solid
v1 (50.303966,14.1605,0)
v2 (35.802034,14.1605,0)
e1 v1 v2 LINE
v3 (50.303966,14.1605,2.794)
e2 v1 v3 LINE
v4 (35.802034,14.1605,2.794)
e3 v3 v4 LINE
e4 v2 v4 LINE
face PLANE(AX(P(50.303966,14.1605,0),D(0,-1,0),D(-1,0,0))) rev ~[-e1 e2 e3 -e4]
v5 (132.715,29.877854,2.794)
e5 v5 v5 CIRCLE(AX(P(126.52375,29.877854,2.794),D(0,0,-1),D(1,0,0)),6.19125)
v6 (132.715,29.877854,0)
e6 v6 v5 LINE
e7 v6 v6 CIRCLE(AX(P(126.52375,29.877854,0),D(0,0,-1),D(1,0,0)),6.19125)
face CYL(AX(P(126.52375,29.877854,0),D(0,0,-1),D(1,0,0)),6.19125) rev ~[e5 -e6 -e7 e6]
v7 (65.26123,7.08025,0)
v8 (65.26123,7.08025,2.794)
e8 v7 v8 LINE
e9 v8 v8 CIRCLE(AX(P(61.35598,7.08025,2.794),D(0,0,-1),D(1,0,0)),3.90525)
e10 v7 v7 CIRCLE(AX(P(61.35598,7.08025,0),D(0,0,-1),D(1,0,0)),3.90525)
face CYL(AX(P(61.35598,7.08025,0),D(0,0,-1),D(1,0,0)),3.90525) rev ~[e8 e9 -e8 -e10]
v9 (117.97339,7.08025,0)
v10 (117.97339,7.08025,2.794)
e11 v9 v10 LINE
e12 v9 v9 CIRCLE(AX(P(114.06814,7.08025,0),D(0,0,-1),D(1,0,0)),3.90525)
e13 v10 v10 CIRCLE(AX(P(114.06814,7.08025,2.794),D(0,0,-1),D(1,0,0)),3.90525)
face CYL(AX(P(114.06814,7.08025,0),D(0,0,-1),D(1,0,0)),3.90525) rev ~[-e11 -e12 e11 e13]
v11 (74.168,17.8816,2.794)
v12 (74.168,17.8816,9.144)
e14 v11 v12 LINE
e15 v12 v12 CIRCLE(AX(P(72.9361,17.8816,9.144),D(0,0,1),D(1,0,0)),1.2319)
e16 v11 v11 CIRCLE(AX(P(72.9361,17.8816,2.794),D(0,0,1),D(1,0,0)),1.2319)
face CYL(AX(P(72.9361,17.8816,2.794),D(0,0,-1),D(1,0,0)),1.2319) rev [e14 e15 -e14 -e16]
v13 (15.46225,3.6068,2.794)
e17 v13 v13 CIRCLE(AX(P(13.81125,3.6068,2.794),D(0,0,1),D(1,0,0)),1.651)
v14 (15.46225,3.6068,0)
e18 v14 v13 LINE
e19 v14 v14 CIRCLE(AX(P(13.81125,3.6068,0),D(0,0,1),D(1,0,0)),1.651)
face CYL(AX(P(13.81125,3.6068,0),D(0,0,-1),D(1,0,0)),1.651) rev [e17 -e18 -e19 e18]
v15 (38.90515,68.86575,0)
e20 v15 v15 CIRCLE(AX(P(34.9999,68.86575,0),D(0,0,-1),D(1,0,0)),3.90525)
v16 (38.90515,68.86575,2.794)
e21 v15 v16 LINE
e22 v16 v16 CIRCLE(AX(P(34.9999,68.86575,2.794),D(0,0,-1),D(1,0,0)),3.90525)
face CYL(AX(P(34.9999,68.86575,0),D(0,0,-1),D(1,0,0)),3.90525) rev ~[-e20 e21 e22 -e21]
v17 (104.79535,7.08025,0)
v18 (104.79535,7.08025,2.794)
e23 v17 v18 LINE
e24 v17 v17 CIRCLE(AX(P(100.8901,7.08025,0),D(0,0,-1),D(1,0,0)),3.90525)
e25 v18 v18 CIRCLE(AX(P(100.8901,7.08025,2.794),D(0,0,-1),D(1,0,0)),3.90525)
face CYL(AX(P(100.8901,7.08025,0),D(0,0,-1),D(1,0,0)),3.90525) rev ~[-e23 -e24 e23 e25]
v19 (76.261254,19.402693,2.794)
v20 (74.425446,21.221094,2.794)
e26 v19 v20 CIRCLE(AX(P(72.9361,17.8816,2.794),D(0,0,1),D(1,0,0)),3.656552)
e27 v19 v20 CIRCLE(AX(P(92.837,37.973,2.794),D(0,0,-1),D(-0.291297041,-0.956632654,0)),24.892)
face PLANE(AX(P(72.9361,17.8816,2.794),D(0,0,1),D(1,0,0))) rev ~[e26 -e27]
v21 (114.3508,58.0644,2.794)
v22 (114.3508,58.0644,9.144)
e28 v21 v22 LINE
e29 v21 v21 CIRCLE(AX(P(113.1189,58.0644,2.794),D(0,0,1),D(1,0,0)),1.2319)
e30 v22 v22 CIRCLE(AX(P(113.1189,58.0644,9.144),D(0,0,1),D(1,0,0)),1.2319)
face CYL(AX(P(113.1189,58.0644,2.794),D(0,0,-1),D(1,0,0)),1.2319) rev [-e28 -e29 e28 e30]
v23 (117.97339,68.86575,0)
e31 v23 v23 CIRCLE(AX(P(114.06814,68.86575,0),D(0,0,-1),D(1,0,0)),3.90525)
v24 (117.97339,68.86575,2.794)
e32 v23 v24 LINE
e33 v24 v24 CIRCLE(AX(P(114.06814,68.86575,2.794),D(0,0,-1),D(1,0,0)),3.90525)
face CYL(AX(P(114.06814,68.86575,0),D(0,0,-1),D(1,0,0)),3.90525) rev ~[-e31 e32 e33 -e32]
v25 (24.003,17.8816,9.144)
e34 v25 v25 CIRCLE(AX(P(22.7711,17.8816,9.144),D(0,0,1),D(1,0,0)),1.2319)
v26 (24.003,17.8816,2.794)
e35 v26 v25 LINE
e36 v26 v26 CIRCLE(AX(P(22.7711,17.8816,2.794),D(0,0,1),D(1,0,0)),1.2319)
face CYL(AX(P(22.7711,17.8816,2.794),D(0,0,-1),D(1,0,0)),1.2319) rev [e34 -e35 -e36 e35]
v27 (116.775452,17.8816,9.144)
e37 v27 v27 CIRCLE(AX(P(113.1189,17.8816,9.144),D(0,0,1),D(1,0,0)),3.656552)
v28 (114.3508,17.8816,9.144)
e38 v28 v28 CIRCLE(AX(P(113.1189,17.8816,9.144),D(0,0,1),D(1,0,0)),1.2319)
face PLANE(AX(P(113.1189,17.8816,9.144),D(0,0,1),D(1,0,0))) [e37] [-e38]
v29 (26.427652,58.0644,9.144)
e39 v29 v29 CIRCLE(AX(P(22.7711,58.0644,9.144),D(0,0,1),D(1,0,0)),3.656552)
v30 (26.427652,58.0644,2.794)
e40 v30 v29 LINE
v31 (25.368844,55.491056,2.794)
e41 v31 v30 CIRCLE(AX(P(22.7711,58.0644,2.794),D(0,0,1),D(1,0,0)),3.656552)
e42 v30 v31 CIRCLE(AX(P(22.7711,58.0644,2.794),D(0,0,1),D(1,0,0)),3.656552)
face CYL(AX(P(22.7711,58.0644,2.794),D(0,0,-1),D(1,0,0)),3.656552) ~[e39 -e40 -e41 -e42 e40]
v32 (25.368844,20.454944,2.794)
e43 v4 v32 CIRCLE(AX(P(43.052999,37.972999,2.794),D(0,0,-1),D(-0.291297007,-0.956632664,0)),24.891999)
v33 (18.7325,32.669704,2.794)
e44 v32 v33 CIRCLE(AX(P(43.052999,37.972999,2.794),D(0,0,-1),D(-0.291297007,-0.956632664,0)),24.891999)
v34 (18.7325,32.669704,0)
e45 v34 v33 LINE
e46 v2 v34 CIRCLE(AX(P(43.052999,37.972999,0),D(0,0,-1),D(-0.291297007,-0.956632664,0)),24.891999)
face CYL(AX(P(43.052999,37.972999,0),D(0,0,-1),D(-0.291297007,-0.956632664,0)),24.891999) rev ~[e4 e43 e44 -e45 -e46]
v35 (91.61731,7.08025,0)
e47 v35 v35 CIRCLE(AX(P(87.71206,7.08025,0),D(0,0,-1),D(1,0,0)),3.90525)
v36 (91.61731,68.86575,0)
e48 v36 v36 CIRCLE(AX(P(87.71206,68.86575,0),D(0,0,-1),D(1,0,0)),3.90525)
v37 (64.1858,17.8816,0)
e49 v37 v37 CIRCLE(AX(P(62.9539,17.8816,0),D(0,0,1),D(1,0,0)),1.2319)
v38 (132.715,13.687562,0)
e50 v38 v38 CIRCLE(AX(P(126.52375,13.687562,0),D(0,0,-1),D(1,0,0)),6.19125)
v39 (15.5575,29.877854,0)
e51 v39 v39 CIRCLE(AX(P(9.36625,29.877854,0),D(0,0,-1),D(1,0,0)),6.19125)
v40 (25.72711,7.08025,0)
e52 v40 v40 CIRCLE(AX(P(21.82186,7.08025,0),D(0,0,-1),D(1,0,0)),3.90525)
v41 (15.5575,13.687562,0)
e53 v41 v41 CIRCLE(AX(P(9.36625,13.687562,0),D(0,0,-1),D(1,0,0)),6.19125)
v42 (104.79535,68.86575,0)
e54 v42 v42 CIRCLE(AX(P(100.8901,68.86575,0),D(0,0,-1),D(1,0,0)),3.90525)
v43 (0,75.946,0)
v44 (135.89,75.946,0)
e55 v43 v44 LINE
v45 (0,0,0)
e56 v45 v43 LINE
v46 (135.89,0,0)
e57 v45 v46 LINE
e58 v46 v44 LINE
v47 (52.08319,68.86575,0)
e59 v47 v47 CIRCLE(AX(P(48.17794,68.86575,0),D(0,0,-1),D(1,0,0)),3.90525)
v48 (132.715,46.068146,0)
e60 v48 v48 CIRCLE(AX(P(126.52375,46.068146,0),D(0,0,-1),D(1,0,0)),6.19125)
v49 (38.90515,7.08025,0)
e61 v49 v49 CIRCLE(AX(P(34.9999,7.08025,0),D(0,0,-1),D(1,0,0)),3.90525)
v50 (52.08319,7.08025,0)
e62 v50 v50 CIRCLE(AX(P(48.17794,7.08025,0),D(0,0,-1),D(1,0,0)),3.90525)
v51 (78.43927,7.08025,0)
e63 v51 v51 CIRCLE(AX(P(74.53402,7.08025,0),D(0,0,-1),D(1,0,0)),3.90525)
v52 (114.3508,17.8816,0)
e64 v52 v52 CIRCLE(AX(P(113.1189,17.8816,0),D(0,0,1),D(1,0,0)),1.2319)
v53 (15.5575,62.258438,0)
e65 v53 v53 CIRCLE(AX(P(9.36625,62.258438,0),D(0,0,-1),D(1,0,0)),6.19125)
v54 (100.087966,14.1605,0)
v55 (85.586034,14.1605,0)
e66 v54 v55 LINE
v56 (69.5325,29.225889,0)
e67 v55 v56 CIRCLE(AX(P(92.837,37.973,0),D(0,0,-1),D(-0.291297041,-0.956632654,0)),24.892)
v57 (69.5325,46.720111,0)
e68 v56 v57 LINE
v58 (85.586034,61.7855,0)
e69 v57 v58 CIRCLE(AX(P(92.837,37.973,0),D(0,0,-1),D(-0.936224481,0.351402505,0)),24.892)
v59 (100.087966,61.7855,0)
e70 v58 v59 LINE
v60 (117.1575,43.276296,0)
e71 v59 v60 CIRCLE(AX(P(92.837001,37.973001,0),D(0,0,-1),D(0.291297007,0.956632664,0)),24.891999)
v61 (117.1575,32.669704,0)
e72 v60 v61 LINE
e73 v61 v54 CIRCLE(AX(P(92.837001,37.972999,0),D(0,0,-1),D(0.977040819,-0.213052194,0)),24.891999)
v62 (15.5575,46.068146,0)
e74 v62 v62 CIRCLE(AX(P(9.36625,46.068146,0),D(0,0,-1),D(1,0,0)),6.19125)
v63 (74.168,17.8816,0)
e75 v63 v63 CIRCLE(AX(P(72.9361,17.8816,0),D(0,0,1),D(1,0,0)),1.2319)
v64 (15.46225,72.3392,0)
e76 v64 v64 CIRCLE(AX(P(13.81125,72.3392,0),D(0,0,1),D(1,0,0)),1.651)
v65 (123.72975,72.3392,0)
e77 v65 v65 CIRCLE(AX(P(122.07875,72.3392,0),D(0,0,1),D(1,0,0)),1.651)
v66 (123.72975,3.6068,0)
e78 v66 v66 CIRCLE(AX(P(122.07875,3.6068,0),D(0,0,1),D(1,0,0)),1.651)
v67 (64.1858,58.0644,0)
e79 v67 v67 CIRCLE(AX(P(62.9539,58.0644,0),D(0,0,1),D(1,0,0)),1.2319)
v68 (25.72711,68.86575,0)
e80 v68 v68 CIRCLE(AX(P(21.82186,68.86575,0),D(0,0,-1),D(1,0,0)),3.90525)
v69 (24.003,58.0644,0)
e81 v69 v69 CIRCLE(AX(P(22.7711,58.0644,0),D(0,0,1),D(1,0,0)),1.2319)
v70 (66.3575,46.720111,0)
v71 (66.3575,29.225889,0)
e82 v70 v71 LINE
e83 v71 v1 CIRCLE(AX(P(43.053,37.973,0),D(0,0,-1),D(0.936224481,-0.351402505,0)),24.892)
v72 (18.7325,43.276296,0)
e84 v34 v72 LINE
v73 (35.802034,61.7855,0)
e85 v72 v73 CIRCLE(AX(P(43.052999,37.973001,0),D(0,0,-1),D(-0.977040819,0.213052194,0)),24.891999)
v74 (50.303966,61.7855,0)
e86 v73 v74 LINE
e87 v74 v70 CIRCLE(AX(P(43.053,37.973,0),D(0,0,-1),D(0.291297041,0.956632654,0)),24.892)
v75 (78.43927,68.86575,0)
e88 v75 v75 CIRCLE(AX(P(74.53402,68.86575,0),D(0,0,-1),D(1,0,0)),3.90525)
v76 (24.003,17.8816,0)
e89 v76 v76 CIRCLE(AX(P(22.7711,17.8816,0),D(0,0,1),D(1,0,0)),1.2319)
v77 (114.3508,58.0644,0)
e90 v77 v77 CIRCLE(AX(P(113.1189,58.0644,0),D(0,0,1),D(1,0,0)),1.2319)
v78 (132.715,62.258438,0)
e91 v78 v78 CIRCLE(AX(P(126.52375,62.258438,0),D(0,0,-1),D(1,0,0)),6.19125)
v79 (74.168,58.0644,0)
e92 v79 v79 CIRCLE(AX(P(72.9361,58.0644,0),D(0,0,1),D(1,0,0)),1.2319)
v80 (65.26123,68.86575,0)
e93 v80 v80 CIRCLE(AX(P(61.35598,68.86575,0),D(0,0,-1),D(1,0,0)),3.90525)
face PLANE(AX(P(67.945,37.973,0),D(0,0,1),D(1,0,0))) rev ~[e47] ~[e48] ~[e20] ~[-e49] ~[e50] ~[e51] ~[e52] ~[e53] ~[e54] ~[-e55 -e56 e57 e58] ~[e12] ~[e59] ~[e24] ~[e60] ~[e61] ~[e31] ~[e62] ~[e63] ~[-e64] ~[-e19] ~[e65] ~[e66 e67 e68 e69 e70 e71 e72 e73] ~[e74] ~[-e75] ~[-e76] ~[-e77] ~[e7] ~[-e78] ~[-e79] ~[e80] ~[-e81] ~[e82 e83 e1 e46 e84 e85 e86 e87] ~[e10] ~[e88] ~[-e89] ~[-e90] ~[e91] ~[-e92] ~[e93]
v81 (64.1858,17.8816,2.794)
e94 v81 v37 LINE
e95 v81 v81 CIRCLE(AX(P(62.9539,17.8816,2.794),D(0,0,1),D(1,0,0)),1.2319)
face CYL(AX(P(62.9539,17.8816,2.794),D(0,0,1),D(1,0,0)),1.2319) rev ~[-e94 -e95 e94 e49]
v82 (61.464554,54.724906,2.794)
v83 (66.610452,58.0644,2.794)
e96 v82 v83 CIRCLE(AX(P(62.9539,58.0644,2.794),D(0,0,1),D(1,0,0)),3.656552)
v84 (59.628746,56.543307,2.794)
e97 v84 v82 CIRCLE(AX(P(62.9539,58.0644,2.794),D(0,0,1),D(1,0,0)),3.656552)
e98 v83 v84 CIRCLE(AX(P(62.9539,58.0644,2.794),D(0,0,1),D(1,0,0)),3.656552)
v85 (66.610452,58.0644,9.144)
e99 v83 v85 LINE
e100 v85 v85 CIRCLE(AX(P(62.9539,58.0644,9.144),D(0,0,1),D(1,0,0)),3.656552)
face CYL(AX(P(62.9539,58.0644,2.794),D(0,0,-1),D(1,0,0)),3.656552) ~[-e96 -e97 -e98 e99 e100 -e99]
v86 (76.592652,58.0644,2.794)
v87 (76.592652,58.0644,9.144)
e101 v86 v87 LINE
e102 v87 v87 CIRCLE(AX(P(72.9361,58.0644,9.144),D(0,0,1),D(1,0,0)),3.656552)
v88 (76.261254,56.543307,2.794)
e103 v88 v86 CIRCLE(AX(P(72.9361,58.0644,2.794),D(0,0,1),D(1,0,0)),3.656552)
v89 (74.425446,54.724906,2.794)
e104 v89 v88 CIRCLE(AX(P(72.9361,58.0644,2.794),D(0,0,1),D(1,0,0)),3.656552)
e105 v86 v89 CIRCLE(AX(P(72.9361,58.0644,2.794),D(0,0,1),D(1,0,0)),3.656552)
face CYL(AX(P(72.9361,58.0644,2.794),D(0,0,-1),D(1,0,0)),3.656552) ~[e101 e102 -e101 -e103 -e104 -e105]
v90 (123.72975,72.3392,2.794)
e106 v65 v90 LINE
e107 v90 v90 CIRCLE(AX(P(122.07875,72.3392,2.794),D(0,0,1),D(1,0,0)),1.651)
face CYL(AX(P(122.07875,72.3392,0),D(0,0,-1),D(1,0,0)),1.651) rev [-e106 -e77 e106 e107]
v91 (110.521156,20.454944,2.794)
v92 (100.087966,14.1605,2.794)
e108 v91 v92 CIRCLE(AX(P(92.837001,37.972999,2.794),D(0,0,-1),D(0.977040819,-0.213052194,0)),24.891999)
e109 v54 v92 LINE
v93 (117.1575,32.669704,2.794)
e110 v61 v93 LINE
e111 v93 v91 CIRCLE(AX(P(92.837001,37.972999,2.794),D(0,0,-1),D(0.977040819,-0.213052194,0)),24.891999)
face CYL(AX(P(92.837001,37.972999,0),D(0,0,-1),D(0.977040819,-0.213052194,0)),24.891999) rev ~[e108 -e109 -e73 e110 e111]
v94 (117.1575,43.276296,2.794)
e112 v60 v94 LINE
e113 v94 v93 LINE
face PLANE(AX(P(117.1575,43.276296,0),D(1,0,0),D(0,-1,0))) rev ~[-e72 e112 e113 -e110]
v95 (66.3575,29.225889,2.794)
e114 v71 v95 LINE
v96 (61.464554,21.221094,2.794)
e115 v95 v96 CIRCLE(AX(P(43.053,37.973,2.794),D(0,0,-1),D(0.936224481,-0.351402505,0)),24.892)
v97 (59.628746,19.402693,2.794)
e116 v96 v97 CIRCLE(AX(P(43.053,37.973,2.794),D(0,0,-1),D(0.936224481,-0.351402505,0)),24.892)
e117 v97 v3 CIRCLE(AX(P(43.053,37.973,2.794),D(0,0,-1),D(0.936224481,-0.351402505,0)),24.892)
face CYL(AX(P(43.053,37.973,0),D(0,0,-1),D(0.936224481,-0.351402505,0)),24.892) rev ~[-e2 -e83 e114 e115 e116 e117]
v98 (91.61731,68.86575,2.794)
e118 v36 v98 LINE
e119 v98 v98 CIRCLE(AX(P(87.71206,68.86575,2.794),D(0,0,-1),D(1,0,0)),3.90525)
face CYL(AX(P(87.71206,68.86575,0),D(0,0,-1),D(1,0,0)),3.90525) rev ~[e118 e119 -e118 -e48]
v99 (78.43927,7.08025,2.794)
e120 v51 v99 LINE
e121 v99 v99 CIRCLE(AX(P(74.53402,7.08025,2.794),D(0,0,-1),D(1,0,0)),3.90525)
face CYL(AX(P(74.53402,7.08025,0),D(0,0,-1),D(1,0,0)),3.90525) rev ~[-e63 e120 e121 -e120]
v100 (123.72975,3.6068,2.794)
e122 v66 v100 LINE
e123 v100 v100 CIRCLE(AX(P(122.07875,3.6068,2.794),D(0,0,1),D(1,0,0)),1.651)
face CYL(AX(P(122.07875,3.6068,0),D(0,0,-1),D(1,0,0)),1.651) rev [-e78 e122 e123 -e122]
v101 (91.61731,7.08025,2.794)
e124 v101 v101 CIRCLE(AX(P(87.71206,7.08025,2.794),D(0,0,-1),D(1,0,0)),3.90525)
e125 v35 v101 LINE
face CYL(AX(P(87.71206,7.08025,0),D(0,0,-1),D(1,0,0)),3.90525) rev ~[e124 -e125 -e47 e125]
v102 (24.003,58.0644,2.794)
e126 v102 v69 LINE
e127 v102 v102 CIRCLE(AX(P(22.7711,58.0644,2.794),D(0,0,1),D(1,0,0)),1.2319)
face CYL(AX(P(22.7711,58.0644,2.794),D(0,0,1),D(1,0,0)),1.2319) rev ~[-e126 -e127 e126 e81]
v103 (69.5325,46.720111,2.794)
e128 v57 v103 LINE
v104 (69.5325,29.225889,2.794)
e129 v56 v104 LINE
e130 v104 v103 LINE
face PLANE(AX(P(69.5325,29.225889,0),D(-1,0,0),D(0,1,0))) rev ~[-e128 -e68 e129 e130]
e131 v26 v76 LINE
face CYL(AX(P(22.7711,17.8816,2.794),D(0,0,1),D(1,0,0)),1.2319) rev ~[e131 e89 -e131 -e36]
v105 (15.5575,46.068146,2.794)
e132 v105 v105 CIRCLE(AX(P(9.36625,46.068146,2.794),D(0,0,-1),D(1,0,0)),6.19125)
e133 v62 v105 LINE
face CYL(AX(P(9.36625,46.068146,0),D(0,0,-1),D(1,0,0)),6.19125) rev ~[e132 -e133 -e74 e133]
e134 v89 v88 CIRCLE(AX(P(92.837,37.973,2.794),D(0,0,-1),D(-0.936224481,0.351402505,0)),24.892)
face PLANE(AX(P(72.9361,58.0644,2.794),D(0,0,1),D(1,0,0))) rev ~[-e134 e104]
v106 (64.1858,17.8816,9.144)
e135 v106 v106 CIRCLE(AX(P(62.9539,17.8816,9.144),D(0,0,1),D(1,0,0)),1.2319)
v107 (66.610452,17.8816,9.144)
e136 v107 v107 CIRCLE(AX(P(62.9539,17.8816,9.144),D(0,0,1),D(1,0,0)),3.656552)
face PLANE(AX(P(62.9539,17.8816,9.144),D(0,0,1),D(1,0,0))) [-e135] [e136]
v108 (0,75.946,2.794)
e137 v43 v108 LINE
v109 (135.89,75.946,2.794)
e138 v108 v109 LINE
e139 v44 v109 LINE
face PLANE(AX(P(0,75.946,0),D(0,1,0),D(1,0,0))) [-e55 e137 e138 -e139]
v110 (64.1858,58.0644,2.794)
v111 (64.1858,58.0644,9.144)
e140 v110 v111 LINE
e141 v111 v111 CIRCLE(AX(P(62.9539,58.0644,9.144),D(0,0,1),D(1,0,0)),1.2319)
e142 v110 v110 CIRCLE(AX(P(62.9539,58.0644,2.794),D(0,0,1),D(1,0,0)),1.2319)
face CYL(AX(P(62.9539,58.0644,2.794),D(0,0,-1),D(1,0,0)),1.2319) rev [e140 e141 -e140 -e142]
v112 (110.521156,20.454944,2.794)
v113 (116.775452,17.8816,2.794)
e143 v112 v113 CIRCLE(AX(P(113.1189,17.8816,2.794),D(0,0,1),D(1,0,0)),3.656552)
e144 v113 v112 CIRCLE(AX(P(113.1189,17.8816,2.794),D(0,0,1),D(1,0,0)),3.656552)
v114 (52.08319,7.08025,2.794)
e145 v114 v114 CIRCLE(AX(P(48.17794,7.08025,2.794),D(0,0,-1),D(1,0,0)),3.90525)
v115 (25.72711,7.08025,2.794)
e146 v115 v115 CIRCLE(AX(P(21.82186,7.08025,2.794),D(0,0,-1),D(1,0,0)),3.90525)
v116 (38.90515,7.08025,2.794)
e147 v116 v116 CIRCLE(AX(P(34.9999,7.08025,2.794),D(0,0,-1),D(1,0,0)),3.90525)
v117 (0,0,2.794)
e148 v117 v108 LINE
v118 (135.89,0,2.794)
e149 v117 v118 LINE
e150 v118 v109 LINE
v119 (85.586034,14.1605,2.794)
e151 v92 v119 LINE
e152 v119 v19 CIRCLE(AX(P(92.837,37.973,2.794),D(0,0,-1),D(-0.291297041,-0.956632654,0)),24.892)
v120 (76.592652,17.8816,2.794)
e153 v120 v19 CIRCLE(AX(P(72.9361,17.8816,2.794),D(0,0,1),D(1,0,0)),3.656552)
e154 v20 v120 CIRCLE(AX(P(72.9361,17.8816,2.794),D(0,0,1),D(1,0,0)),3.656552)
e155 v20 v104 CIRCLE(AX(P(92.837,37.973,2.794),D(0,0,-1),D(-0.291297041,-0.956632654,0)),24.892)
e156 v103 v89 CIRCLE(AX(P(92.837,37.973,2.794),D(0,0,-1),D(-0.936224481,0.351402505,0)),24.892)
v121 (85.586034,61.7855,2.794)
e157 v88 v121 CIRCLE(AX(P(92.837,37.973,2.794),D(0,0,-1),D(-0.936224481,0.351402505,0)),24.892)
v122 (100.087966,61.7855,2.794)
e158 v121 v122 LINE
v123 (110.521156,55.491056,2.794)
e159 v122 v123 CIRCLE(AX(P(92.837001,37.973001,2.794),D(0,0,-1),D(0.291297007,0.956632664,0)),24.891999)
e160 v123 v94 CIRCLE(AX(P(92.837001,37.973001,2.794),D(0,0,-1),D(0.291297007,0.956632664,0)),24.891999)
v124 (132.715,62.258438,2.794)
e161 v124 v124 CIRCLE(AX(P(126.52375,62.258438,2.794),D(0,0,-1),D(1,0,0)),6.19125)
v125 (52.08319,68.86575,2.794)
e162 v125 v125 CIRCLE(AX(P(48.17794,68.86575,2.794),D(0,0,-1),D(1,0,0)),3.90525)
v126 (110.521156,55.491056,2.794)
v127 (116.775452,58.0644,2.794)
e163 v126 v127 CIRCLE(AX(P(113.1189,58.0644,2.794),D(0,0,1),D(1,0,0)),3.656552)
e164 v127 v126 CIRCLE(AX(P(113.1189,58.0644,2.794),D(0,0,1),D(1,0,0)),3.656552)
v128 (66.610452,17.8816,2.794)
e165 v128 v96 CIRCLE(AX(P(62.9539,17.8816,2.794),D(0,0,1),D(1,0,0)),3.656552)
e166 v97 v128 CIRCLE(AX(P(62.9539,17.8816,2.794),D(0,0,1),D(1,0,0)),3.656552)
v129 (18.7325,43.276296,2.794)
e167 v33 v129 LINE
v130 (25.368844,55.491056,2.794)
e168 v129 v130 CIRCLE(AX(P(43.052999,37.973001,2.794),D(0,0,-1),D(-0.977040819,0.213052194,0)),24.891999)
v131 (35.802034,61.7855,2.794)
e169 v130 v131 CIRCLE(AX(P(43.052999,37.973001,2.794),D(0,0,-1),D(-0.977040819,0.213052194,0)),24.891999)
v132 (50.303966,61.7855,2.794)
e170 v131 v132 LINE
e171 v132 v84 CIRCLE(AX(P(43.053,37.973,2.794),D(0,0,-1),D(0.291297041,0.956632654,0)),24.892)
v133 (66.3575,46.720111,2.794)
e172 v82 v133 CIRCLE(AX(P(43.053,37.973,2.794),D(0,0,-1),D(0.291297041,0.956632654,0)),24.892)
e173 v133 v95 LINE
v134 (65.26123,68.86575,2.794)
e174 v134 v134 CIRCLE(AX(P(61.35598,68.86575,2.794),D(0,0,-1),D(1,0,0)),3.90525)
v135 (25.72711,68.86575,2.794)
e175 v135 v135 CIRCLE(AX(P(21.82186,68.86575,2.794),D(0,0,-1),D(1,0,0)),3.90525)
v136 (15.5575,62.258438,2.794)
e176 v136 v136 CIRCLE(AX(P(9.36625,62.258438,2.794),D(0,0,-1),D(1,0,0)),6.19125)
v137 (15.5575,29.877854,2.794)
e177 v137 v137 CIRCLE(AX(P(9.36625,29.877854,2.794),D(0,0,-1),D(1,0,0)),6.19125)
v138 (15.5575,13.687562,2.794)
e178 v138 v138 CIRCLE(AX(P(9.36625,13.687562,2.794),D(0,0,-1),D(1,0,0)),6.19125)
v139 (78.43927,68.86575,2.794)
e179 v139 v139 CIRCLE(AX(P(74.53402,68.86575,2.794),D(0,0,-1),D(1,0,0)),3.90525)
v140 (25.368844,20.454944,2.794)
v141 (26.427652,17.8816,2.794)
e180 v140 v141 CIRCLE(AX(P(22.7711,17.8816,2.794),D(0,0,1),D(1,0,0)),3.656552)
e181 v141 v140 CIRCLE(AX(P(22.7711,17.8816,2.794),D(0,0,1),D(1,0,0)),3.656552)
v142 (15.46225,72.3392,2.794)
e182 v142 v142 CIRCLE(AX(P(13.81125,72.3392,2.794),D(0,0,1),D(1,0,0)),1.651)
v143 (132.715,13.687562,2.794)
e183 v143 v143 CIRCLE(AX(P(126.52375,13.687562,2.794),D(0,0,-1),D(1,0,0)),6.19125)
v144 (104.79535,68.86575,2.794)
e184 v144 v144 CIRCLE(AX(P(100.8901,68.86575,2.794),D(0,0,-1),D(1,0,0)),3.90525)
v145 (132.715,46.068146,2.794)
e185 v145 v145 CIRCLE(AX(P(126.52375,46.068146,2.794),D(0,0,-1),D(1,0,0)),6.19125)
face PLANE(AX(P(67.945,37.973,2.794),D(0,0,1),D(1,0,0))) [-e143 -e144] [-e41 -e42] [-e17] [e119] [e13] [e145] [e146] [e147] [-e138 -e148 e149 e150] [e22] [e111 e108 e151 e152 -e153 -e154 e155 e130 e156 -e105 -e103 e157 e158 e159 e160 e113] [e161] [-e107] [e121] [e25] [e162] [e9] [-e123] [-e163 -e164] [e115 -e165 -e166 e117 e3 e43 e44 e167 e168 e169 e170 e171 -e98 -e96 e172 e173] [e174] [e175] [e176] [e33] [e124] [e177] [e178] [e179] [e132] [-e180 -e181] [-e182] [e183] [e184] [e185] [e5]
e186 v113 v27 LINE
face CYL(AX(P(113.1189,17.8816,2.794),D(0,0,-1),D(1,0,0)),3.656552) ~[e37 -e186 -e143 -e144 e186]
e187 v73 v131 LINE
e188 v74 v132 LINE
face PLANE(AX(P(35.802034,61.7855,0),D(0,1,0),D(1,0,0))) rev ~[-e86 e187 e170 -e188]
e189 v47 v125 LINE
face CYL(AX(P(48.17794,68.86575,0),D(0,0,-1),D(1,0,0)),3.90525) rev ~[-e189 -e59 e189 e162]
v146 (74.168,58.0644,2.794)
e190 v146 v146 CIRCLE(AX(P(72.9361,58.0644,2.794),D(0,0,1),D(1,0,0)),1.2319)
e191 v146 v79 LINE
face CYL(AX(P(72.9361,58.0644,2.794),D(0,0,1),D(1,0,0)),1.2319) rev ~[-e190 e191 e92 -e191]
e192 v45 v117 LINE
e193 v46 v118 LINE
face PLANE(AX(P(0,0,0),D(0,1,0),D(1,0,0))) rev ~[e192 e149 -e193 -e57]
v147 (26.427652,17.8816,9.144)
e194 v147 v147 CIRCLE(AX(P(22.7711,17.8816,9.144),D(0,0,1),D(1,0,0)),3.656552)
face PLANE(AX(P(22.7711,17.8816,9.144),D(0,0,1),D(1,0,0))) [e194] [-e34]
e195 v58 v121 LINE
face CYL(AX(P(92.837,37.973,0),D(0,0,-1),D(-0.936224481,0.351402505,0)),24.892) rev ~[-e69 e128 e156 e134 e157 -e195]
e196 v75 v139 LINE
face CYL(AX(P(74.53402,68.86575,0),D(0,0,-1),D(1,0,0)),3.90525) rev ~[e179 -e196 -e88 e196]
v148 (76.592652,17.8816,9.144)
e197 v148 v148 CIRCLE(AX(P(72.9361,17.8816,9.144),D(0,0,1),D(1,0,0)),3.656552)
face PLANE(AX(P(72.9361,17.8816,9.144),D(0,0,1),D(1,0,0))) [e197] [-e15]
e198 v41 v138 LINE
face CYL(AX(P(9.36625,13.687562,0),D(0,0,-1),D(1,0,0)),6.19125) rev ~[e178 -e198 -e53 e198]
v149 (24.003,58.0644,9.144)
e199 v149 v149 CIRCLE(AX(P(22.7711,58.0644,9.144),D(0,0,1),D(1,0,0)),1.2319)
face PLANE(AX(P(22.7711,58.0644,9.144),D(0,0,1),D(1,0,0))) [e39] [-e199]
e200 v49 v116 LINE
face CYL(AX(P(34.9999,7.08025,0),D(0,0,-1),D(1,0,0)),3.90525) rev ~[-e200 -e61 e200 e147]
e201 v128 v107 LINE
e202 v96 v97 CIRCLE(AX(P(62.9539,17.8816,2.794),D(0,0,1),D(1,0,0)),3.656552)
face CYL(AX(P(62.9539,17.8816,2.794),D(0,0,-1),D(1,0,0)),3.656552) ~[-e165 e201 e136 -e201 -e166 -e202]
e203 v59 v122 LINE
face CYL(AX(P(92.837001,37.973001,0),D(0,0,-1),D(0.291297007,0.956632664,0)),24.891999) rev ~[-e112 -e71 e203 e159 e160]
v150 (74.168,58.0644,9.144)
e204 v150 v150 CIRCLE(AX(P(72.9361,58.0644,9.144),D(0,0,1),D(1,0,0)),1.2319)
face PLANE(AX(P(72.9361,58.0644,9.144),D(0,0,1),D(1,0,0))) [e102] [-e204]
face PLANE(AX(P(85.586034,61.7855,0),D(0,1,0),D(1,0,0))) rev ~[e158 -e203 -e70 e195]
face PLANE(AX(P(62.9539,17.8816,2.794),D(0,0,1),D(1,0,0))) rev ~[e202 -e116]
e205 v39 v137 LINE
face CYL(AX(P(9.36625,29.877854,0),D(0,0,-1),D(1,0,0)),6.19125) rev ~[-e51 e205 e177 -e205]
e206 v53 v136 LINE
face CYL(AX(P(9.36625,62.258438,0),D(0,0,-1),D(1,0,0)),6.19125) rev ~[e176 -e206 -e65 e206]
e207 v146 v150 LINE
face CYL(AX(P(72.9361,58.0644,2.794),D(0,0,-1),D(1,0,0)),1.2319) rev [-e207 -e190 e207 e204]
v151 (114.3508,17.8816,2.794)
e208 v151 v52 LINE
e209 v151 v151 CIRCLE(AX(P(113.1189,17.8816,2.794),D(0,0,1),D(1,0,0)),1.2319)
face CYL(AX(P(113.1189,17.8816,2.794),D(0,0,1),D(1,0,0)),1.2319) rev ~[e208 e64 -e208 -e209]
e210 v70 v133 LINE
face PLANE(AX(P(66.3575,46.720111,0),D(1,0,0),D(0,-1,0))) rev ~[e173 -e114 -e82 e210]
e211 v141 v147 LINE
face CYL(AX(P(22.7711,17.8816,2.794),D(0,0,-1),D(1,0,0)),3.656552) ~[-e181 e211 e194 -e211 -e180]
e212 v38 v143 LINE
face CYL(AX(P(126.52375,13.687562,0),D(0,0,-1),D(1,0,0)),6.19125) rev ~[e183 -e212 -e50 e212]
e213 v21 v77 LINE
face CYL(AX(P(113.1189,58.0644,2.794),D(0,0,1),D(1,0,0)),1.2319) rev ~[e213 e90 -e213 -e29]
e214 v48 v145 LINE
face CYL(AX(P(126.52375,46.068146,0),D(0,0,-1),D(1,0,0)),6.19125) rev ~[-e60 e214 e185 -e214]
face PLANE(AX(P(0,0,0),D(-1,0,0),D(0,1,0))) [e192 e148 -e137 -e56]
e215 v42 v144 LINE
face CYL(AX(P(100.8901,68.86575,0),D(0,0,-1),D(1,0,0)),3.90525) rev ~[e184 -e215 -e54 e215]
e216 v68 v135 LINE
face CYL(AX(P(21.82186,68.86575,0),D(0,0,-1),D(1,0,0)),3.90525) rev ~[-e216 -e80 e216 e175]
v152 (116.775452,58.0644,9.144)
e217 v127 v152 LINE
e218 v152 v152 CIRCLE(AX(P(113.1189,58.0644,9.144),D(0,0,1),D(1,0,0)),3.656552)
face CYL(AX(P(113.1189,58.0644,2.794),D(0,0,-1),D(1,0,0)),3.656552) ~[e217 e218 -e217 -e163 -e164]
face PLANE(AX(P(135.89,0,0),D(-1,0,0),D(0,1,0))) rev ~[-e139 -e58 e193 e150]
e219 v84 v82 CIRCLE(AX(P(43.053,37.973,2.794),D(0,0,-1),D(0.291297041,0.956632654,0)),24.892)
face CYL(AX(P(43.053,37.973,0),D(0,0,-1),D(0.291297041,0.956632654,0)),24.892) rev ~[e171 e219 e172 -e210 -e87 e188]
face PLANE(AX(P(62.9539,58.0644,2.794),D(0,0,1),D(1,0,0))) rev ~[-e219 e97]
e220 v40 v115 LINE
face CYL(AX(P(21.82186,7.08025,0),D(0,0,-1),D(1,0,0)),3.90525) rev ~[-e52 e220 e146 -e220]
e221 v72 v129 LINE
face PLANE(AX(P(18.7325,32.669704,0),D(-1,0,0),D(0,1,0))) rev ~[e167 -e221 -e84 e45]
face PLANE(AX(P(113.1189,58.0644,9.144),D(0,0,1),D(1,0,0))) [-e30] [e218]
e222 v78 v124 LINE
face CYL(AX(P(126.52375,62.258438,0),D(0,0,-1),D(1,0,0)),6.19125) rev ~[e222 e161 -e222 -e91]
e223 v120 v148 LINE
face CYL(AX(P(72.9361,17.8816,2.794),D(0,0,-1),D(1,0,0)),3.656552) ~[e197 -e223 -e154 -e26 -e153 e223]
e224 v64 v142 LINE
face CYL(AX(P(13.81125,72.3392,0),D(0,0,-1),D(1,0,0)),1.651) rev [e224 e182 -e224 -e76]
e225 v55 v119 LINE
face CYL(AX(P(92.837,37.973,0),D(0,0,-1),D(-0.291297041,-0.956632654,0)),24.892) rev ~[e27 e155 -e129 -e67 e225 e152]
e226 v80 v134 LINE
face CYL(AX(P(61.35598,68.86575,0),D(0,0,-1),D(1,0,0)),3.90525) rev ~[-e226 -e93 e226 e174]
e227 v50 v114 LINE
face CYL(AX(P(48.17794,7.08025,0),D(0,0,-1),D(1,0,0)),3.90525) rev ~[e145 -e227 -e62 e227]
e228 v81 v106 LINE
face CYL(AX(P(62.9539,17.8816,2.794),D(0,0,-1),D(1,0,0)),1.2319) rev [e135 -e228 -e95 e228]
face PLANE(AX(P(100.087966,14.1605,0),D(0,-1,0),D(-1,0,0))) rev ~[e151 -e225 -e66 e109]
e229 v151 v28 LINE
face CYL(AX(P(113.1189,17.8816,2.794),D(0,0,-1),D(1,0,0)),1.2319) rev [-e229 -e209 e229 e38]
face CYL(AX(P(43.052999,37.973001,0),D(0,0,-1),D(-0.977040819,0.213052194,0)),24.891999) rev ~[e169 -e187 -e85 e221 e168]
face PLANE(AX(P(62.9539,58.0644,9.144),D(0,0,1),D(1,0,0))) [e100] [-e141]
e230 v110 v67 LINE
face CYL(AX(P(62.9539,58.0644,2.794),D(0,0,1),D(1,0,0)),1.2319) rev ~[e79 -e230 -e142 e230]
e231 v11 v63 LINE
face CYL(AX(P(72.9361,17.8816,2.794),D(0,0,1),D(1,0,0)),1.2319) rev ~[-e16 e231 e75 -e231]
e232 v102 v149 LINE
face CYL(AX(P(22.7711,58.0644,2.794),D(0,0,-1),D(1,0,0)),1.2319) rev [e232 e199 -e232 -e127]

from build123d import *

# Parameters (mm, degrees)
F0_W     = 135.89
F0_H     = 75.946
F0_R     = 1.651
F1_DEPTH = 2.794
F3_R     = 1.2319
F4_DEPTH = 2.795
F5_R     = 3.656552
F5_R_2   = 1.2319
F6_DEPTH = 6.35
F7_R     = 6.19125
F7_R_2   = 3.90525
F8_DEPTH = 9.145


with BuildPart() as f1:
    # F0 (on Top) → F1 (new body)
    with BuildSketch(Plane.XY):
        with Locations((67.945, 37.973)):
            Rectangle(F0_W, F0_H)
        with Locations((13.81125, 3.6068)):
            Circle(F0_R, mode=Mode.SUBTRACT)
        with Locations((122.07875, 3.6068)):
            Circle(F0_R, mode=Mode.SUBTRACT)
        with BuildLine():
            ThreePointArc((100.087966, 61.7855), (111.135553, 54.848267), (117.1575, 43.276296))
            Line((117.1575, 43.276296), (117.1575, 32.669704))
            ThreePointArc((117.1575, 32.669704), (111.135553, 21.097733), (100.087966, 14.1605))
            Line((100.087966, 14.1605), (85.586034, 14.1605))
            ThreePointArc((85.586034, 14.1605), (75.803192, 19.821938), (69.5325, 29.225889))
            Line((69.5325, 29.225889), (69.5325, 46.720111))
            ThreePointArc((69.5325, 46.720111), (75.803192, 56.124062), (85.586034, 61.7855))
            Line((85.586034, 61.7855), (100.087966, 61.7855))
        make_face(mode=Mode.SUBTRACT)
        with BuildLine():
            ThreePointArc((18.7325, 43.276296), (24.754447, 54.848267), (35.802034, 61.7855))
            Line((35.802034, 61.7855), (50.303966, 61.7855))
            ThreePointArc((50.303966, 61.7855), (60.086808, 56.124062), (66.3575, 46.720111))
            Line((66.3575, 46.720111), (66.3575, 29.225889))
            ThreePointArc((66.3575, 29.225889), (60.086808, 19.821938), (50.303966, 14.1605))
            Line((50.303966, 14.1605), (35.802034, 14.1605))
            ThreePointArc((35.802034, 14.1605), (24.754447, 21.097733), (18.7325, 32.669704))
            Line((18.7325, 32.669704), (18.7325, 43.276296))
        make_face(mode=Mode.SUBTRACT)
        with Locations((13.81125, 72.3392)):
            Circle(F0_R, mode=Mode.SUBTRACT)
        with Locations((122.07875, 72.3392)):
            Circle(F0_R, mode=Mode.SUBTRACT)
    extrude(amount=F1_DEPTH)

    # F3 (on face) → F4 (cut, through all)
    with BuildSketch(Plane.XY.offset(2.794)):
        with Locations((22.7711, 58.0644)):
            Circle(F3_R)
        with Locations((62.9539, 58.0644)):
            Circle(F3_R)
        with Locations((72.9361, 58.0644)):
            Circle(F3_R)
        with Locations((113.1189, 58.0644)):
            Circle(F3_R)
        with Locations((113.1189, 17.8816)):
            Circle(F3_R)
        with Locations((72.9361, 17.8816)):
            Circle(F3_R)
        with Locations((62.9539, 17.8816)):
            Circle(F3_R)
        with Locations((22.7711, 17.8816)):
            Circle(F3_R)
    extrude(amount=-F4_DEPTH, mode=Mode.SUBTRACT)

    # F5 (on face) → F6 (join)
    with BuildSketch(Plane.XY.offset(2.794)):
        with Locations((22.7711, 58.0644)):
            Circle(F5_R)
        with Locations((22.7711, 58.0644)):
            Circle(F5_R_2, mode=Mode.SUBTRACT)
        with Locations((62.9539, 58.0644)):
            Circle(F5_R)
        with Locations((62.9539, 58.0644)):
            Circle(F5_R_2, mode=Mode.SUBTRACT)
        with Locations((72.9361, 58.0644)):
            Circle(F5_R)
        with Locations((72.9361, 58.0644)):
            Circle(F5_R_2, mode=Mode.SUBTRACT)
        with Locations((113.1189, 58.0644)):
            Circle(F5_R)
        with Locations((113.1189, 58.0644)):
            Circle(F5_R_2, mode=Mode.SUBTRACT)
        with Locations((113.1189, 17.8816)):
            Circle(F5_R)
        with Locations((113.1189, 17.8816)):
            Circle(F5_R_2, mode=Mode.SUBTRACT)
        with Locations((72.9361, 17.8816)):
            Circle(F5_R)
        with Locations((72.9361, 17.8816)):
            Circle(F5_R_2, mode=Mode.SUBTRACT)
        with Locations((62.9539, 17.8816)):
            Circle(F5_R)
        with Locations((62.9539, 17.8816)):
            Circle(F5_R_2, mode=Mode.SUBTRACT)
        with Locations((22.7711, 17.8816)):
            Circle(F5_R)
        with Locations((22.7711, 17.8816)):
            Circle(F5_R_2, mode=Mode.SUBTRACT)
    extrude(amount=F6_DEPTH)

    # F7 (on face) → F8 (cut, through all)
    with BuildSketch(Plane(origin=(0, 0, 0), x_dir=(1, 0, 0), z_dir=(0, 0, -1))):
        with Locations((9.36625, -62.258438)):
            Circle(F7_R)
        with Locations((9.36625, -46.068146)):
            Circle(F7_R)
        with Locations((21.82186, -68.86575)):
            Circle(F7_R_2)
        with Locations((34.9999, -68.86575)):
            Circle(F7_R_2)
        with Locations((48.17794, -68.86575)):
            Circle(F7_R_2)
        with Locations((61.35598, -68.86575)):
            Circle(F7_R_2)
        with Locations((126.52375, -46.068146)):
            Circle(F7_R)
        with Locations((126.52375, -62.258438)):
            Circle(F7_R)
        with Locations((74.53402, -68.86575)):
            Circle(F7_R_2)
        with Locations((87.71206, -68.86575)):
            Circle(F7_R_2)
        with Locations((100.8901, -68.86575)):
            Circle(F7_R_2)
        with Locations((114.06814, -68.86575)):
            Circle(F7_R_2)
        with Locations((126.52375, -29.877854)):
            Circle(F7_R)
        with Locations((126.52375, -13.687562)):
            Circle(F7_R)
        with Locations((114.06814, -7.08025)):
            Circle(F7_R_2)
        with Locations((100.8901, -7.08025)):
            Circle(F7_R_2)
        with Locations((87.71206, -7.08025)):
            Circle(F7_R_2)
        with Locations((74.53402, -7.08025)):
            Circle(F7_R_2)
        with Locations((61.35598, -7.08025)):
            Circle(F7_R_2)
        with Locations((48.17794, -7.08025)):
            Circle(F7_R_2)
        with Locations((34.9999, -7.08025)):
            Circle(F7_R_2)
        with Locations((21.82186, -7.08025)):
            Circle(F7_R_2)
        with Locations((9.36625, -13.687562)):
            Circle(F7_R)
        with Locations((9.36625, -29.877854)):
            Circle(F7_R)
    extrude(amount=-F8_DEPTH, mode=Mode.SUBTRACT)


solid = f1.part
